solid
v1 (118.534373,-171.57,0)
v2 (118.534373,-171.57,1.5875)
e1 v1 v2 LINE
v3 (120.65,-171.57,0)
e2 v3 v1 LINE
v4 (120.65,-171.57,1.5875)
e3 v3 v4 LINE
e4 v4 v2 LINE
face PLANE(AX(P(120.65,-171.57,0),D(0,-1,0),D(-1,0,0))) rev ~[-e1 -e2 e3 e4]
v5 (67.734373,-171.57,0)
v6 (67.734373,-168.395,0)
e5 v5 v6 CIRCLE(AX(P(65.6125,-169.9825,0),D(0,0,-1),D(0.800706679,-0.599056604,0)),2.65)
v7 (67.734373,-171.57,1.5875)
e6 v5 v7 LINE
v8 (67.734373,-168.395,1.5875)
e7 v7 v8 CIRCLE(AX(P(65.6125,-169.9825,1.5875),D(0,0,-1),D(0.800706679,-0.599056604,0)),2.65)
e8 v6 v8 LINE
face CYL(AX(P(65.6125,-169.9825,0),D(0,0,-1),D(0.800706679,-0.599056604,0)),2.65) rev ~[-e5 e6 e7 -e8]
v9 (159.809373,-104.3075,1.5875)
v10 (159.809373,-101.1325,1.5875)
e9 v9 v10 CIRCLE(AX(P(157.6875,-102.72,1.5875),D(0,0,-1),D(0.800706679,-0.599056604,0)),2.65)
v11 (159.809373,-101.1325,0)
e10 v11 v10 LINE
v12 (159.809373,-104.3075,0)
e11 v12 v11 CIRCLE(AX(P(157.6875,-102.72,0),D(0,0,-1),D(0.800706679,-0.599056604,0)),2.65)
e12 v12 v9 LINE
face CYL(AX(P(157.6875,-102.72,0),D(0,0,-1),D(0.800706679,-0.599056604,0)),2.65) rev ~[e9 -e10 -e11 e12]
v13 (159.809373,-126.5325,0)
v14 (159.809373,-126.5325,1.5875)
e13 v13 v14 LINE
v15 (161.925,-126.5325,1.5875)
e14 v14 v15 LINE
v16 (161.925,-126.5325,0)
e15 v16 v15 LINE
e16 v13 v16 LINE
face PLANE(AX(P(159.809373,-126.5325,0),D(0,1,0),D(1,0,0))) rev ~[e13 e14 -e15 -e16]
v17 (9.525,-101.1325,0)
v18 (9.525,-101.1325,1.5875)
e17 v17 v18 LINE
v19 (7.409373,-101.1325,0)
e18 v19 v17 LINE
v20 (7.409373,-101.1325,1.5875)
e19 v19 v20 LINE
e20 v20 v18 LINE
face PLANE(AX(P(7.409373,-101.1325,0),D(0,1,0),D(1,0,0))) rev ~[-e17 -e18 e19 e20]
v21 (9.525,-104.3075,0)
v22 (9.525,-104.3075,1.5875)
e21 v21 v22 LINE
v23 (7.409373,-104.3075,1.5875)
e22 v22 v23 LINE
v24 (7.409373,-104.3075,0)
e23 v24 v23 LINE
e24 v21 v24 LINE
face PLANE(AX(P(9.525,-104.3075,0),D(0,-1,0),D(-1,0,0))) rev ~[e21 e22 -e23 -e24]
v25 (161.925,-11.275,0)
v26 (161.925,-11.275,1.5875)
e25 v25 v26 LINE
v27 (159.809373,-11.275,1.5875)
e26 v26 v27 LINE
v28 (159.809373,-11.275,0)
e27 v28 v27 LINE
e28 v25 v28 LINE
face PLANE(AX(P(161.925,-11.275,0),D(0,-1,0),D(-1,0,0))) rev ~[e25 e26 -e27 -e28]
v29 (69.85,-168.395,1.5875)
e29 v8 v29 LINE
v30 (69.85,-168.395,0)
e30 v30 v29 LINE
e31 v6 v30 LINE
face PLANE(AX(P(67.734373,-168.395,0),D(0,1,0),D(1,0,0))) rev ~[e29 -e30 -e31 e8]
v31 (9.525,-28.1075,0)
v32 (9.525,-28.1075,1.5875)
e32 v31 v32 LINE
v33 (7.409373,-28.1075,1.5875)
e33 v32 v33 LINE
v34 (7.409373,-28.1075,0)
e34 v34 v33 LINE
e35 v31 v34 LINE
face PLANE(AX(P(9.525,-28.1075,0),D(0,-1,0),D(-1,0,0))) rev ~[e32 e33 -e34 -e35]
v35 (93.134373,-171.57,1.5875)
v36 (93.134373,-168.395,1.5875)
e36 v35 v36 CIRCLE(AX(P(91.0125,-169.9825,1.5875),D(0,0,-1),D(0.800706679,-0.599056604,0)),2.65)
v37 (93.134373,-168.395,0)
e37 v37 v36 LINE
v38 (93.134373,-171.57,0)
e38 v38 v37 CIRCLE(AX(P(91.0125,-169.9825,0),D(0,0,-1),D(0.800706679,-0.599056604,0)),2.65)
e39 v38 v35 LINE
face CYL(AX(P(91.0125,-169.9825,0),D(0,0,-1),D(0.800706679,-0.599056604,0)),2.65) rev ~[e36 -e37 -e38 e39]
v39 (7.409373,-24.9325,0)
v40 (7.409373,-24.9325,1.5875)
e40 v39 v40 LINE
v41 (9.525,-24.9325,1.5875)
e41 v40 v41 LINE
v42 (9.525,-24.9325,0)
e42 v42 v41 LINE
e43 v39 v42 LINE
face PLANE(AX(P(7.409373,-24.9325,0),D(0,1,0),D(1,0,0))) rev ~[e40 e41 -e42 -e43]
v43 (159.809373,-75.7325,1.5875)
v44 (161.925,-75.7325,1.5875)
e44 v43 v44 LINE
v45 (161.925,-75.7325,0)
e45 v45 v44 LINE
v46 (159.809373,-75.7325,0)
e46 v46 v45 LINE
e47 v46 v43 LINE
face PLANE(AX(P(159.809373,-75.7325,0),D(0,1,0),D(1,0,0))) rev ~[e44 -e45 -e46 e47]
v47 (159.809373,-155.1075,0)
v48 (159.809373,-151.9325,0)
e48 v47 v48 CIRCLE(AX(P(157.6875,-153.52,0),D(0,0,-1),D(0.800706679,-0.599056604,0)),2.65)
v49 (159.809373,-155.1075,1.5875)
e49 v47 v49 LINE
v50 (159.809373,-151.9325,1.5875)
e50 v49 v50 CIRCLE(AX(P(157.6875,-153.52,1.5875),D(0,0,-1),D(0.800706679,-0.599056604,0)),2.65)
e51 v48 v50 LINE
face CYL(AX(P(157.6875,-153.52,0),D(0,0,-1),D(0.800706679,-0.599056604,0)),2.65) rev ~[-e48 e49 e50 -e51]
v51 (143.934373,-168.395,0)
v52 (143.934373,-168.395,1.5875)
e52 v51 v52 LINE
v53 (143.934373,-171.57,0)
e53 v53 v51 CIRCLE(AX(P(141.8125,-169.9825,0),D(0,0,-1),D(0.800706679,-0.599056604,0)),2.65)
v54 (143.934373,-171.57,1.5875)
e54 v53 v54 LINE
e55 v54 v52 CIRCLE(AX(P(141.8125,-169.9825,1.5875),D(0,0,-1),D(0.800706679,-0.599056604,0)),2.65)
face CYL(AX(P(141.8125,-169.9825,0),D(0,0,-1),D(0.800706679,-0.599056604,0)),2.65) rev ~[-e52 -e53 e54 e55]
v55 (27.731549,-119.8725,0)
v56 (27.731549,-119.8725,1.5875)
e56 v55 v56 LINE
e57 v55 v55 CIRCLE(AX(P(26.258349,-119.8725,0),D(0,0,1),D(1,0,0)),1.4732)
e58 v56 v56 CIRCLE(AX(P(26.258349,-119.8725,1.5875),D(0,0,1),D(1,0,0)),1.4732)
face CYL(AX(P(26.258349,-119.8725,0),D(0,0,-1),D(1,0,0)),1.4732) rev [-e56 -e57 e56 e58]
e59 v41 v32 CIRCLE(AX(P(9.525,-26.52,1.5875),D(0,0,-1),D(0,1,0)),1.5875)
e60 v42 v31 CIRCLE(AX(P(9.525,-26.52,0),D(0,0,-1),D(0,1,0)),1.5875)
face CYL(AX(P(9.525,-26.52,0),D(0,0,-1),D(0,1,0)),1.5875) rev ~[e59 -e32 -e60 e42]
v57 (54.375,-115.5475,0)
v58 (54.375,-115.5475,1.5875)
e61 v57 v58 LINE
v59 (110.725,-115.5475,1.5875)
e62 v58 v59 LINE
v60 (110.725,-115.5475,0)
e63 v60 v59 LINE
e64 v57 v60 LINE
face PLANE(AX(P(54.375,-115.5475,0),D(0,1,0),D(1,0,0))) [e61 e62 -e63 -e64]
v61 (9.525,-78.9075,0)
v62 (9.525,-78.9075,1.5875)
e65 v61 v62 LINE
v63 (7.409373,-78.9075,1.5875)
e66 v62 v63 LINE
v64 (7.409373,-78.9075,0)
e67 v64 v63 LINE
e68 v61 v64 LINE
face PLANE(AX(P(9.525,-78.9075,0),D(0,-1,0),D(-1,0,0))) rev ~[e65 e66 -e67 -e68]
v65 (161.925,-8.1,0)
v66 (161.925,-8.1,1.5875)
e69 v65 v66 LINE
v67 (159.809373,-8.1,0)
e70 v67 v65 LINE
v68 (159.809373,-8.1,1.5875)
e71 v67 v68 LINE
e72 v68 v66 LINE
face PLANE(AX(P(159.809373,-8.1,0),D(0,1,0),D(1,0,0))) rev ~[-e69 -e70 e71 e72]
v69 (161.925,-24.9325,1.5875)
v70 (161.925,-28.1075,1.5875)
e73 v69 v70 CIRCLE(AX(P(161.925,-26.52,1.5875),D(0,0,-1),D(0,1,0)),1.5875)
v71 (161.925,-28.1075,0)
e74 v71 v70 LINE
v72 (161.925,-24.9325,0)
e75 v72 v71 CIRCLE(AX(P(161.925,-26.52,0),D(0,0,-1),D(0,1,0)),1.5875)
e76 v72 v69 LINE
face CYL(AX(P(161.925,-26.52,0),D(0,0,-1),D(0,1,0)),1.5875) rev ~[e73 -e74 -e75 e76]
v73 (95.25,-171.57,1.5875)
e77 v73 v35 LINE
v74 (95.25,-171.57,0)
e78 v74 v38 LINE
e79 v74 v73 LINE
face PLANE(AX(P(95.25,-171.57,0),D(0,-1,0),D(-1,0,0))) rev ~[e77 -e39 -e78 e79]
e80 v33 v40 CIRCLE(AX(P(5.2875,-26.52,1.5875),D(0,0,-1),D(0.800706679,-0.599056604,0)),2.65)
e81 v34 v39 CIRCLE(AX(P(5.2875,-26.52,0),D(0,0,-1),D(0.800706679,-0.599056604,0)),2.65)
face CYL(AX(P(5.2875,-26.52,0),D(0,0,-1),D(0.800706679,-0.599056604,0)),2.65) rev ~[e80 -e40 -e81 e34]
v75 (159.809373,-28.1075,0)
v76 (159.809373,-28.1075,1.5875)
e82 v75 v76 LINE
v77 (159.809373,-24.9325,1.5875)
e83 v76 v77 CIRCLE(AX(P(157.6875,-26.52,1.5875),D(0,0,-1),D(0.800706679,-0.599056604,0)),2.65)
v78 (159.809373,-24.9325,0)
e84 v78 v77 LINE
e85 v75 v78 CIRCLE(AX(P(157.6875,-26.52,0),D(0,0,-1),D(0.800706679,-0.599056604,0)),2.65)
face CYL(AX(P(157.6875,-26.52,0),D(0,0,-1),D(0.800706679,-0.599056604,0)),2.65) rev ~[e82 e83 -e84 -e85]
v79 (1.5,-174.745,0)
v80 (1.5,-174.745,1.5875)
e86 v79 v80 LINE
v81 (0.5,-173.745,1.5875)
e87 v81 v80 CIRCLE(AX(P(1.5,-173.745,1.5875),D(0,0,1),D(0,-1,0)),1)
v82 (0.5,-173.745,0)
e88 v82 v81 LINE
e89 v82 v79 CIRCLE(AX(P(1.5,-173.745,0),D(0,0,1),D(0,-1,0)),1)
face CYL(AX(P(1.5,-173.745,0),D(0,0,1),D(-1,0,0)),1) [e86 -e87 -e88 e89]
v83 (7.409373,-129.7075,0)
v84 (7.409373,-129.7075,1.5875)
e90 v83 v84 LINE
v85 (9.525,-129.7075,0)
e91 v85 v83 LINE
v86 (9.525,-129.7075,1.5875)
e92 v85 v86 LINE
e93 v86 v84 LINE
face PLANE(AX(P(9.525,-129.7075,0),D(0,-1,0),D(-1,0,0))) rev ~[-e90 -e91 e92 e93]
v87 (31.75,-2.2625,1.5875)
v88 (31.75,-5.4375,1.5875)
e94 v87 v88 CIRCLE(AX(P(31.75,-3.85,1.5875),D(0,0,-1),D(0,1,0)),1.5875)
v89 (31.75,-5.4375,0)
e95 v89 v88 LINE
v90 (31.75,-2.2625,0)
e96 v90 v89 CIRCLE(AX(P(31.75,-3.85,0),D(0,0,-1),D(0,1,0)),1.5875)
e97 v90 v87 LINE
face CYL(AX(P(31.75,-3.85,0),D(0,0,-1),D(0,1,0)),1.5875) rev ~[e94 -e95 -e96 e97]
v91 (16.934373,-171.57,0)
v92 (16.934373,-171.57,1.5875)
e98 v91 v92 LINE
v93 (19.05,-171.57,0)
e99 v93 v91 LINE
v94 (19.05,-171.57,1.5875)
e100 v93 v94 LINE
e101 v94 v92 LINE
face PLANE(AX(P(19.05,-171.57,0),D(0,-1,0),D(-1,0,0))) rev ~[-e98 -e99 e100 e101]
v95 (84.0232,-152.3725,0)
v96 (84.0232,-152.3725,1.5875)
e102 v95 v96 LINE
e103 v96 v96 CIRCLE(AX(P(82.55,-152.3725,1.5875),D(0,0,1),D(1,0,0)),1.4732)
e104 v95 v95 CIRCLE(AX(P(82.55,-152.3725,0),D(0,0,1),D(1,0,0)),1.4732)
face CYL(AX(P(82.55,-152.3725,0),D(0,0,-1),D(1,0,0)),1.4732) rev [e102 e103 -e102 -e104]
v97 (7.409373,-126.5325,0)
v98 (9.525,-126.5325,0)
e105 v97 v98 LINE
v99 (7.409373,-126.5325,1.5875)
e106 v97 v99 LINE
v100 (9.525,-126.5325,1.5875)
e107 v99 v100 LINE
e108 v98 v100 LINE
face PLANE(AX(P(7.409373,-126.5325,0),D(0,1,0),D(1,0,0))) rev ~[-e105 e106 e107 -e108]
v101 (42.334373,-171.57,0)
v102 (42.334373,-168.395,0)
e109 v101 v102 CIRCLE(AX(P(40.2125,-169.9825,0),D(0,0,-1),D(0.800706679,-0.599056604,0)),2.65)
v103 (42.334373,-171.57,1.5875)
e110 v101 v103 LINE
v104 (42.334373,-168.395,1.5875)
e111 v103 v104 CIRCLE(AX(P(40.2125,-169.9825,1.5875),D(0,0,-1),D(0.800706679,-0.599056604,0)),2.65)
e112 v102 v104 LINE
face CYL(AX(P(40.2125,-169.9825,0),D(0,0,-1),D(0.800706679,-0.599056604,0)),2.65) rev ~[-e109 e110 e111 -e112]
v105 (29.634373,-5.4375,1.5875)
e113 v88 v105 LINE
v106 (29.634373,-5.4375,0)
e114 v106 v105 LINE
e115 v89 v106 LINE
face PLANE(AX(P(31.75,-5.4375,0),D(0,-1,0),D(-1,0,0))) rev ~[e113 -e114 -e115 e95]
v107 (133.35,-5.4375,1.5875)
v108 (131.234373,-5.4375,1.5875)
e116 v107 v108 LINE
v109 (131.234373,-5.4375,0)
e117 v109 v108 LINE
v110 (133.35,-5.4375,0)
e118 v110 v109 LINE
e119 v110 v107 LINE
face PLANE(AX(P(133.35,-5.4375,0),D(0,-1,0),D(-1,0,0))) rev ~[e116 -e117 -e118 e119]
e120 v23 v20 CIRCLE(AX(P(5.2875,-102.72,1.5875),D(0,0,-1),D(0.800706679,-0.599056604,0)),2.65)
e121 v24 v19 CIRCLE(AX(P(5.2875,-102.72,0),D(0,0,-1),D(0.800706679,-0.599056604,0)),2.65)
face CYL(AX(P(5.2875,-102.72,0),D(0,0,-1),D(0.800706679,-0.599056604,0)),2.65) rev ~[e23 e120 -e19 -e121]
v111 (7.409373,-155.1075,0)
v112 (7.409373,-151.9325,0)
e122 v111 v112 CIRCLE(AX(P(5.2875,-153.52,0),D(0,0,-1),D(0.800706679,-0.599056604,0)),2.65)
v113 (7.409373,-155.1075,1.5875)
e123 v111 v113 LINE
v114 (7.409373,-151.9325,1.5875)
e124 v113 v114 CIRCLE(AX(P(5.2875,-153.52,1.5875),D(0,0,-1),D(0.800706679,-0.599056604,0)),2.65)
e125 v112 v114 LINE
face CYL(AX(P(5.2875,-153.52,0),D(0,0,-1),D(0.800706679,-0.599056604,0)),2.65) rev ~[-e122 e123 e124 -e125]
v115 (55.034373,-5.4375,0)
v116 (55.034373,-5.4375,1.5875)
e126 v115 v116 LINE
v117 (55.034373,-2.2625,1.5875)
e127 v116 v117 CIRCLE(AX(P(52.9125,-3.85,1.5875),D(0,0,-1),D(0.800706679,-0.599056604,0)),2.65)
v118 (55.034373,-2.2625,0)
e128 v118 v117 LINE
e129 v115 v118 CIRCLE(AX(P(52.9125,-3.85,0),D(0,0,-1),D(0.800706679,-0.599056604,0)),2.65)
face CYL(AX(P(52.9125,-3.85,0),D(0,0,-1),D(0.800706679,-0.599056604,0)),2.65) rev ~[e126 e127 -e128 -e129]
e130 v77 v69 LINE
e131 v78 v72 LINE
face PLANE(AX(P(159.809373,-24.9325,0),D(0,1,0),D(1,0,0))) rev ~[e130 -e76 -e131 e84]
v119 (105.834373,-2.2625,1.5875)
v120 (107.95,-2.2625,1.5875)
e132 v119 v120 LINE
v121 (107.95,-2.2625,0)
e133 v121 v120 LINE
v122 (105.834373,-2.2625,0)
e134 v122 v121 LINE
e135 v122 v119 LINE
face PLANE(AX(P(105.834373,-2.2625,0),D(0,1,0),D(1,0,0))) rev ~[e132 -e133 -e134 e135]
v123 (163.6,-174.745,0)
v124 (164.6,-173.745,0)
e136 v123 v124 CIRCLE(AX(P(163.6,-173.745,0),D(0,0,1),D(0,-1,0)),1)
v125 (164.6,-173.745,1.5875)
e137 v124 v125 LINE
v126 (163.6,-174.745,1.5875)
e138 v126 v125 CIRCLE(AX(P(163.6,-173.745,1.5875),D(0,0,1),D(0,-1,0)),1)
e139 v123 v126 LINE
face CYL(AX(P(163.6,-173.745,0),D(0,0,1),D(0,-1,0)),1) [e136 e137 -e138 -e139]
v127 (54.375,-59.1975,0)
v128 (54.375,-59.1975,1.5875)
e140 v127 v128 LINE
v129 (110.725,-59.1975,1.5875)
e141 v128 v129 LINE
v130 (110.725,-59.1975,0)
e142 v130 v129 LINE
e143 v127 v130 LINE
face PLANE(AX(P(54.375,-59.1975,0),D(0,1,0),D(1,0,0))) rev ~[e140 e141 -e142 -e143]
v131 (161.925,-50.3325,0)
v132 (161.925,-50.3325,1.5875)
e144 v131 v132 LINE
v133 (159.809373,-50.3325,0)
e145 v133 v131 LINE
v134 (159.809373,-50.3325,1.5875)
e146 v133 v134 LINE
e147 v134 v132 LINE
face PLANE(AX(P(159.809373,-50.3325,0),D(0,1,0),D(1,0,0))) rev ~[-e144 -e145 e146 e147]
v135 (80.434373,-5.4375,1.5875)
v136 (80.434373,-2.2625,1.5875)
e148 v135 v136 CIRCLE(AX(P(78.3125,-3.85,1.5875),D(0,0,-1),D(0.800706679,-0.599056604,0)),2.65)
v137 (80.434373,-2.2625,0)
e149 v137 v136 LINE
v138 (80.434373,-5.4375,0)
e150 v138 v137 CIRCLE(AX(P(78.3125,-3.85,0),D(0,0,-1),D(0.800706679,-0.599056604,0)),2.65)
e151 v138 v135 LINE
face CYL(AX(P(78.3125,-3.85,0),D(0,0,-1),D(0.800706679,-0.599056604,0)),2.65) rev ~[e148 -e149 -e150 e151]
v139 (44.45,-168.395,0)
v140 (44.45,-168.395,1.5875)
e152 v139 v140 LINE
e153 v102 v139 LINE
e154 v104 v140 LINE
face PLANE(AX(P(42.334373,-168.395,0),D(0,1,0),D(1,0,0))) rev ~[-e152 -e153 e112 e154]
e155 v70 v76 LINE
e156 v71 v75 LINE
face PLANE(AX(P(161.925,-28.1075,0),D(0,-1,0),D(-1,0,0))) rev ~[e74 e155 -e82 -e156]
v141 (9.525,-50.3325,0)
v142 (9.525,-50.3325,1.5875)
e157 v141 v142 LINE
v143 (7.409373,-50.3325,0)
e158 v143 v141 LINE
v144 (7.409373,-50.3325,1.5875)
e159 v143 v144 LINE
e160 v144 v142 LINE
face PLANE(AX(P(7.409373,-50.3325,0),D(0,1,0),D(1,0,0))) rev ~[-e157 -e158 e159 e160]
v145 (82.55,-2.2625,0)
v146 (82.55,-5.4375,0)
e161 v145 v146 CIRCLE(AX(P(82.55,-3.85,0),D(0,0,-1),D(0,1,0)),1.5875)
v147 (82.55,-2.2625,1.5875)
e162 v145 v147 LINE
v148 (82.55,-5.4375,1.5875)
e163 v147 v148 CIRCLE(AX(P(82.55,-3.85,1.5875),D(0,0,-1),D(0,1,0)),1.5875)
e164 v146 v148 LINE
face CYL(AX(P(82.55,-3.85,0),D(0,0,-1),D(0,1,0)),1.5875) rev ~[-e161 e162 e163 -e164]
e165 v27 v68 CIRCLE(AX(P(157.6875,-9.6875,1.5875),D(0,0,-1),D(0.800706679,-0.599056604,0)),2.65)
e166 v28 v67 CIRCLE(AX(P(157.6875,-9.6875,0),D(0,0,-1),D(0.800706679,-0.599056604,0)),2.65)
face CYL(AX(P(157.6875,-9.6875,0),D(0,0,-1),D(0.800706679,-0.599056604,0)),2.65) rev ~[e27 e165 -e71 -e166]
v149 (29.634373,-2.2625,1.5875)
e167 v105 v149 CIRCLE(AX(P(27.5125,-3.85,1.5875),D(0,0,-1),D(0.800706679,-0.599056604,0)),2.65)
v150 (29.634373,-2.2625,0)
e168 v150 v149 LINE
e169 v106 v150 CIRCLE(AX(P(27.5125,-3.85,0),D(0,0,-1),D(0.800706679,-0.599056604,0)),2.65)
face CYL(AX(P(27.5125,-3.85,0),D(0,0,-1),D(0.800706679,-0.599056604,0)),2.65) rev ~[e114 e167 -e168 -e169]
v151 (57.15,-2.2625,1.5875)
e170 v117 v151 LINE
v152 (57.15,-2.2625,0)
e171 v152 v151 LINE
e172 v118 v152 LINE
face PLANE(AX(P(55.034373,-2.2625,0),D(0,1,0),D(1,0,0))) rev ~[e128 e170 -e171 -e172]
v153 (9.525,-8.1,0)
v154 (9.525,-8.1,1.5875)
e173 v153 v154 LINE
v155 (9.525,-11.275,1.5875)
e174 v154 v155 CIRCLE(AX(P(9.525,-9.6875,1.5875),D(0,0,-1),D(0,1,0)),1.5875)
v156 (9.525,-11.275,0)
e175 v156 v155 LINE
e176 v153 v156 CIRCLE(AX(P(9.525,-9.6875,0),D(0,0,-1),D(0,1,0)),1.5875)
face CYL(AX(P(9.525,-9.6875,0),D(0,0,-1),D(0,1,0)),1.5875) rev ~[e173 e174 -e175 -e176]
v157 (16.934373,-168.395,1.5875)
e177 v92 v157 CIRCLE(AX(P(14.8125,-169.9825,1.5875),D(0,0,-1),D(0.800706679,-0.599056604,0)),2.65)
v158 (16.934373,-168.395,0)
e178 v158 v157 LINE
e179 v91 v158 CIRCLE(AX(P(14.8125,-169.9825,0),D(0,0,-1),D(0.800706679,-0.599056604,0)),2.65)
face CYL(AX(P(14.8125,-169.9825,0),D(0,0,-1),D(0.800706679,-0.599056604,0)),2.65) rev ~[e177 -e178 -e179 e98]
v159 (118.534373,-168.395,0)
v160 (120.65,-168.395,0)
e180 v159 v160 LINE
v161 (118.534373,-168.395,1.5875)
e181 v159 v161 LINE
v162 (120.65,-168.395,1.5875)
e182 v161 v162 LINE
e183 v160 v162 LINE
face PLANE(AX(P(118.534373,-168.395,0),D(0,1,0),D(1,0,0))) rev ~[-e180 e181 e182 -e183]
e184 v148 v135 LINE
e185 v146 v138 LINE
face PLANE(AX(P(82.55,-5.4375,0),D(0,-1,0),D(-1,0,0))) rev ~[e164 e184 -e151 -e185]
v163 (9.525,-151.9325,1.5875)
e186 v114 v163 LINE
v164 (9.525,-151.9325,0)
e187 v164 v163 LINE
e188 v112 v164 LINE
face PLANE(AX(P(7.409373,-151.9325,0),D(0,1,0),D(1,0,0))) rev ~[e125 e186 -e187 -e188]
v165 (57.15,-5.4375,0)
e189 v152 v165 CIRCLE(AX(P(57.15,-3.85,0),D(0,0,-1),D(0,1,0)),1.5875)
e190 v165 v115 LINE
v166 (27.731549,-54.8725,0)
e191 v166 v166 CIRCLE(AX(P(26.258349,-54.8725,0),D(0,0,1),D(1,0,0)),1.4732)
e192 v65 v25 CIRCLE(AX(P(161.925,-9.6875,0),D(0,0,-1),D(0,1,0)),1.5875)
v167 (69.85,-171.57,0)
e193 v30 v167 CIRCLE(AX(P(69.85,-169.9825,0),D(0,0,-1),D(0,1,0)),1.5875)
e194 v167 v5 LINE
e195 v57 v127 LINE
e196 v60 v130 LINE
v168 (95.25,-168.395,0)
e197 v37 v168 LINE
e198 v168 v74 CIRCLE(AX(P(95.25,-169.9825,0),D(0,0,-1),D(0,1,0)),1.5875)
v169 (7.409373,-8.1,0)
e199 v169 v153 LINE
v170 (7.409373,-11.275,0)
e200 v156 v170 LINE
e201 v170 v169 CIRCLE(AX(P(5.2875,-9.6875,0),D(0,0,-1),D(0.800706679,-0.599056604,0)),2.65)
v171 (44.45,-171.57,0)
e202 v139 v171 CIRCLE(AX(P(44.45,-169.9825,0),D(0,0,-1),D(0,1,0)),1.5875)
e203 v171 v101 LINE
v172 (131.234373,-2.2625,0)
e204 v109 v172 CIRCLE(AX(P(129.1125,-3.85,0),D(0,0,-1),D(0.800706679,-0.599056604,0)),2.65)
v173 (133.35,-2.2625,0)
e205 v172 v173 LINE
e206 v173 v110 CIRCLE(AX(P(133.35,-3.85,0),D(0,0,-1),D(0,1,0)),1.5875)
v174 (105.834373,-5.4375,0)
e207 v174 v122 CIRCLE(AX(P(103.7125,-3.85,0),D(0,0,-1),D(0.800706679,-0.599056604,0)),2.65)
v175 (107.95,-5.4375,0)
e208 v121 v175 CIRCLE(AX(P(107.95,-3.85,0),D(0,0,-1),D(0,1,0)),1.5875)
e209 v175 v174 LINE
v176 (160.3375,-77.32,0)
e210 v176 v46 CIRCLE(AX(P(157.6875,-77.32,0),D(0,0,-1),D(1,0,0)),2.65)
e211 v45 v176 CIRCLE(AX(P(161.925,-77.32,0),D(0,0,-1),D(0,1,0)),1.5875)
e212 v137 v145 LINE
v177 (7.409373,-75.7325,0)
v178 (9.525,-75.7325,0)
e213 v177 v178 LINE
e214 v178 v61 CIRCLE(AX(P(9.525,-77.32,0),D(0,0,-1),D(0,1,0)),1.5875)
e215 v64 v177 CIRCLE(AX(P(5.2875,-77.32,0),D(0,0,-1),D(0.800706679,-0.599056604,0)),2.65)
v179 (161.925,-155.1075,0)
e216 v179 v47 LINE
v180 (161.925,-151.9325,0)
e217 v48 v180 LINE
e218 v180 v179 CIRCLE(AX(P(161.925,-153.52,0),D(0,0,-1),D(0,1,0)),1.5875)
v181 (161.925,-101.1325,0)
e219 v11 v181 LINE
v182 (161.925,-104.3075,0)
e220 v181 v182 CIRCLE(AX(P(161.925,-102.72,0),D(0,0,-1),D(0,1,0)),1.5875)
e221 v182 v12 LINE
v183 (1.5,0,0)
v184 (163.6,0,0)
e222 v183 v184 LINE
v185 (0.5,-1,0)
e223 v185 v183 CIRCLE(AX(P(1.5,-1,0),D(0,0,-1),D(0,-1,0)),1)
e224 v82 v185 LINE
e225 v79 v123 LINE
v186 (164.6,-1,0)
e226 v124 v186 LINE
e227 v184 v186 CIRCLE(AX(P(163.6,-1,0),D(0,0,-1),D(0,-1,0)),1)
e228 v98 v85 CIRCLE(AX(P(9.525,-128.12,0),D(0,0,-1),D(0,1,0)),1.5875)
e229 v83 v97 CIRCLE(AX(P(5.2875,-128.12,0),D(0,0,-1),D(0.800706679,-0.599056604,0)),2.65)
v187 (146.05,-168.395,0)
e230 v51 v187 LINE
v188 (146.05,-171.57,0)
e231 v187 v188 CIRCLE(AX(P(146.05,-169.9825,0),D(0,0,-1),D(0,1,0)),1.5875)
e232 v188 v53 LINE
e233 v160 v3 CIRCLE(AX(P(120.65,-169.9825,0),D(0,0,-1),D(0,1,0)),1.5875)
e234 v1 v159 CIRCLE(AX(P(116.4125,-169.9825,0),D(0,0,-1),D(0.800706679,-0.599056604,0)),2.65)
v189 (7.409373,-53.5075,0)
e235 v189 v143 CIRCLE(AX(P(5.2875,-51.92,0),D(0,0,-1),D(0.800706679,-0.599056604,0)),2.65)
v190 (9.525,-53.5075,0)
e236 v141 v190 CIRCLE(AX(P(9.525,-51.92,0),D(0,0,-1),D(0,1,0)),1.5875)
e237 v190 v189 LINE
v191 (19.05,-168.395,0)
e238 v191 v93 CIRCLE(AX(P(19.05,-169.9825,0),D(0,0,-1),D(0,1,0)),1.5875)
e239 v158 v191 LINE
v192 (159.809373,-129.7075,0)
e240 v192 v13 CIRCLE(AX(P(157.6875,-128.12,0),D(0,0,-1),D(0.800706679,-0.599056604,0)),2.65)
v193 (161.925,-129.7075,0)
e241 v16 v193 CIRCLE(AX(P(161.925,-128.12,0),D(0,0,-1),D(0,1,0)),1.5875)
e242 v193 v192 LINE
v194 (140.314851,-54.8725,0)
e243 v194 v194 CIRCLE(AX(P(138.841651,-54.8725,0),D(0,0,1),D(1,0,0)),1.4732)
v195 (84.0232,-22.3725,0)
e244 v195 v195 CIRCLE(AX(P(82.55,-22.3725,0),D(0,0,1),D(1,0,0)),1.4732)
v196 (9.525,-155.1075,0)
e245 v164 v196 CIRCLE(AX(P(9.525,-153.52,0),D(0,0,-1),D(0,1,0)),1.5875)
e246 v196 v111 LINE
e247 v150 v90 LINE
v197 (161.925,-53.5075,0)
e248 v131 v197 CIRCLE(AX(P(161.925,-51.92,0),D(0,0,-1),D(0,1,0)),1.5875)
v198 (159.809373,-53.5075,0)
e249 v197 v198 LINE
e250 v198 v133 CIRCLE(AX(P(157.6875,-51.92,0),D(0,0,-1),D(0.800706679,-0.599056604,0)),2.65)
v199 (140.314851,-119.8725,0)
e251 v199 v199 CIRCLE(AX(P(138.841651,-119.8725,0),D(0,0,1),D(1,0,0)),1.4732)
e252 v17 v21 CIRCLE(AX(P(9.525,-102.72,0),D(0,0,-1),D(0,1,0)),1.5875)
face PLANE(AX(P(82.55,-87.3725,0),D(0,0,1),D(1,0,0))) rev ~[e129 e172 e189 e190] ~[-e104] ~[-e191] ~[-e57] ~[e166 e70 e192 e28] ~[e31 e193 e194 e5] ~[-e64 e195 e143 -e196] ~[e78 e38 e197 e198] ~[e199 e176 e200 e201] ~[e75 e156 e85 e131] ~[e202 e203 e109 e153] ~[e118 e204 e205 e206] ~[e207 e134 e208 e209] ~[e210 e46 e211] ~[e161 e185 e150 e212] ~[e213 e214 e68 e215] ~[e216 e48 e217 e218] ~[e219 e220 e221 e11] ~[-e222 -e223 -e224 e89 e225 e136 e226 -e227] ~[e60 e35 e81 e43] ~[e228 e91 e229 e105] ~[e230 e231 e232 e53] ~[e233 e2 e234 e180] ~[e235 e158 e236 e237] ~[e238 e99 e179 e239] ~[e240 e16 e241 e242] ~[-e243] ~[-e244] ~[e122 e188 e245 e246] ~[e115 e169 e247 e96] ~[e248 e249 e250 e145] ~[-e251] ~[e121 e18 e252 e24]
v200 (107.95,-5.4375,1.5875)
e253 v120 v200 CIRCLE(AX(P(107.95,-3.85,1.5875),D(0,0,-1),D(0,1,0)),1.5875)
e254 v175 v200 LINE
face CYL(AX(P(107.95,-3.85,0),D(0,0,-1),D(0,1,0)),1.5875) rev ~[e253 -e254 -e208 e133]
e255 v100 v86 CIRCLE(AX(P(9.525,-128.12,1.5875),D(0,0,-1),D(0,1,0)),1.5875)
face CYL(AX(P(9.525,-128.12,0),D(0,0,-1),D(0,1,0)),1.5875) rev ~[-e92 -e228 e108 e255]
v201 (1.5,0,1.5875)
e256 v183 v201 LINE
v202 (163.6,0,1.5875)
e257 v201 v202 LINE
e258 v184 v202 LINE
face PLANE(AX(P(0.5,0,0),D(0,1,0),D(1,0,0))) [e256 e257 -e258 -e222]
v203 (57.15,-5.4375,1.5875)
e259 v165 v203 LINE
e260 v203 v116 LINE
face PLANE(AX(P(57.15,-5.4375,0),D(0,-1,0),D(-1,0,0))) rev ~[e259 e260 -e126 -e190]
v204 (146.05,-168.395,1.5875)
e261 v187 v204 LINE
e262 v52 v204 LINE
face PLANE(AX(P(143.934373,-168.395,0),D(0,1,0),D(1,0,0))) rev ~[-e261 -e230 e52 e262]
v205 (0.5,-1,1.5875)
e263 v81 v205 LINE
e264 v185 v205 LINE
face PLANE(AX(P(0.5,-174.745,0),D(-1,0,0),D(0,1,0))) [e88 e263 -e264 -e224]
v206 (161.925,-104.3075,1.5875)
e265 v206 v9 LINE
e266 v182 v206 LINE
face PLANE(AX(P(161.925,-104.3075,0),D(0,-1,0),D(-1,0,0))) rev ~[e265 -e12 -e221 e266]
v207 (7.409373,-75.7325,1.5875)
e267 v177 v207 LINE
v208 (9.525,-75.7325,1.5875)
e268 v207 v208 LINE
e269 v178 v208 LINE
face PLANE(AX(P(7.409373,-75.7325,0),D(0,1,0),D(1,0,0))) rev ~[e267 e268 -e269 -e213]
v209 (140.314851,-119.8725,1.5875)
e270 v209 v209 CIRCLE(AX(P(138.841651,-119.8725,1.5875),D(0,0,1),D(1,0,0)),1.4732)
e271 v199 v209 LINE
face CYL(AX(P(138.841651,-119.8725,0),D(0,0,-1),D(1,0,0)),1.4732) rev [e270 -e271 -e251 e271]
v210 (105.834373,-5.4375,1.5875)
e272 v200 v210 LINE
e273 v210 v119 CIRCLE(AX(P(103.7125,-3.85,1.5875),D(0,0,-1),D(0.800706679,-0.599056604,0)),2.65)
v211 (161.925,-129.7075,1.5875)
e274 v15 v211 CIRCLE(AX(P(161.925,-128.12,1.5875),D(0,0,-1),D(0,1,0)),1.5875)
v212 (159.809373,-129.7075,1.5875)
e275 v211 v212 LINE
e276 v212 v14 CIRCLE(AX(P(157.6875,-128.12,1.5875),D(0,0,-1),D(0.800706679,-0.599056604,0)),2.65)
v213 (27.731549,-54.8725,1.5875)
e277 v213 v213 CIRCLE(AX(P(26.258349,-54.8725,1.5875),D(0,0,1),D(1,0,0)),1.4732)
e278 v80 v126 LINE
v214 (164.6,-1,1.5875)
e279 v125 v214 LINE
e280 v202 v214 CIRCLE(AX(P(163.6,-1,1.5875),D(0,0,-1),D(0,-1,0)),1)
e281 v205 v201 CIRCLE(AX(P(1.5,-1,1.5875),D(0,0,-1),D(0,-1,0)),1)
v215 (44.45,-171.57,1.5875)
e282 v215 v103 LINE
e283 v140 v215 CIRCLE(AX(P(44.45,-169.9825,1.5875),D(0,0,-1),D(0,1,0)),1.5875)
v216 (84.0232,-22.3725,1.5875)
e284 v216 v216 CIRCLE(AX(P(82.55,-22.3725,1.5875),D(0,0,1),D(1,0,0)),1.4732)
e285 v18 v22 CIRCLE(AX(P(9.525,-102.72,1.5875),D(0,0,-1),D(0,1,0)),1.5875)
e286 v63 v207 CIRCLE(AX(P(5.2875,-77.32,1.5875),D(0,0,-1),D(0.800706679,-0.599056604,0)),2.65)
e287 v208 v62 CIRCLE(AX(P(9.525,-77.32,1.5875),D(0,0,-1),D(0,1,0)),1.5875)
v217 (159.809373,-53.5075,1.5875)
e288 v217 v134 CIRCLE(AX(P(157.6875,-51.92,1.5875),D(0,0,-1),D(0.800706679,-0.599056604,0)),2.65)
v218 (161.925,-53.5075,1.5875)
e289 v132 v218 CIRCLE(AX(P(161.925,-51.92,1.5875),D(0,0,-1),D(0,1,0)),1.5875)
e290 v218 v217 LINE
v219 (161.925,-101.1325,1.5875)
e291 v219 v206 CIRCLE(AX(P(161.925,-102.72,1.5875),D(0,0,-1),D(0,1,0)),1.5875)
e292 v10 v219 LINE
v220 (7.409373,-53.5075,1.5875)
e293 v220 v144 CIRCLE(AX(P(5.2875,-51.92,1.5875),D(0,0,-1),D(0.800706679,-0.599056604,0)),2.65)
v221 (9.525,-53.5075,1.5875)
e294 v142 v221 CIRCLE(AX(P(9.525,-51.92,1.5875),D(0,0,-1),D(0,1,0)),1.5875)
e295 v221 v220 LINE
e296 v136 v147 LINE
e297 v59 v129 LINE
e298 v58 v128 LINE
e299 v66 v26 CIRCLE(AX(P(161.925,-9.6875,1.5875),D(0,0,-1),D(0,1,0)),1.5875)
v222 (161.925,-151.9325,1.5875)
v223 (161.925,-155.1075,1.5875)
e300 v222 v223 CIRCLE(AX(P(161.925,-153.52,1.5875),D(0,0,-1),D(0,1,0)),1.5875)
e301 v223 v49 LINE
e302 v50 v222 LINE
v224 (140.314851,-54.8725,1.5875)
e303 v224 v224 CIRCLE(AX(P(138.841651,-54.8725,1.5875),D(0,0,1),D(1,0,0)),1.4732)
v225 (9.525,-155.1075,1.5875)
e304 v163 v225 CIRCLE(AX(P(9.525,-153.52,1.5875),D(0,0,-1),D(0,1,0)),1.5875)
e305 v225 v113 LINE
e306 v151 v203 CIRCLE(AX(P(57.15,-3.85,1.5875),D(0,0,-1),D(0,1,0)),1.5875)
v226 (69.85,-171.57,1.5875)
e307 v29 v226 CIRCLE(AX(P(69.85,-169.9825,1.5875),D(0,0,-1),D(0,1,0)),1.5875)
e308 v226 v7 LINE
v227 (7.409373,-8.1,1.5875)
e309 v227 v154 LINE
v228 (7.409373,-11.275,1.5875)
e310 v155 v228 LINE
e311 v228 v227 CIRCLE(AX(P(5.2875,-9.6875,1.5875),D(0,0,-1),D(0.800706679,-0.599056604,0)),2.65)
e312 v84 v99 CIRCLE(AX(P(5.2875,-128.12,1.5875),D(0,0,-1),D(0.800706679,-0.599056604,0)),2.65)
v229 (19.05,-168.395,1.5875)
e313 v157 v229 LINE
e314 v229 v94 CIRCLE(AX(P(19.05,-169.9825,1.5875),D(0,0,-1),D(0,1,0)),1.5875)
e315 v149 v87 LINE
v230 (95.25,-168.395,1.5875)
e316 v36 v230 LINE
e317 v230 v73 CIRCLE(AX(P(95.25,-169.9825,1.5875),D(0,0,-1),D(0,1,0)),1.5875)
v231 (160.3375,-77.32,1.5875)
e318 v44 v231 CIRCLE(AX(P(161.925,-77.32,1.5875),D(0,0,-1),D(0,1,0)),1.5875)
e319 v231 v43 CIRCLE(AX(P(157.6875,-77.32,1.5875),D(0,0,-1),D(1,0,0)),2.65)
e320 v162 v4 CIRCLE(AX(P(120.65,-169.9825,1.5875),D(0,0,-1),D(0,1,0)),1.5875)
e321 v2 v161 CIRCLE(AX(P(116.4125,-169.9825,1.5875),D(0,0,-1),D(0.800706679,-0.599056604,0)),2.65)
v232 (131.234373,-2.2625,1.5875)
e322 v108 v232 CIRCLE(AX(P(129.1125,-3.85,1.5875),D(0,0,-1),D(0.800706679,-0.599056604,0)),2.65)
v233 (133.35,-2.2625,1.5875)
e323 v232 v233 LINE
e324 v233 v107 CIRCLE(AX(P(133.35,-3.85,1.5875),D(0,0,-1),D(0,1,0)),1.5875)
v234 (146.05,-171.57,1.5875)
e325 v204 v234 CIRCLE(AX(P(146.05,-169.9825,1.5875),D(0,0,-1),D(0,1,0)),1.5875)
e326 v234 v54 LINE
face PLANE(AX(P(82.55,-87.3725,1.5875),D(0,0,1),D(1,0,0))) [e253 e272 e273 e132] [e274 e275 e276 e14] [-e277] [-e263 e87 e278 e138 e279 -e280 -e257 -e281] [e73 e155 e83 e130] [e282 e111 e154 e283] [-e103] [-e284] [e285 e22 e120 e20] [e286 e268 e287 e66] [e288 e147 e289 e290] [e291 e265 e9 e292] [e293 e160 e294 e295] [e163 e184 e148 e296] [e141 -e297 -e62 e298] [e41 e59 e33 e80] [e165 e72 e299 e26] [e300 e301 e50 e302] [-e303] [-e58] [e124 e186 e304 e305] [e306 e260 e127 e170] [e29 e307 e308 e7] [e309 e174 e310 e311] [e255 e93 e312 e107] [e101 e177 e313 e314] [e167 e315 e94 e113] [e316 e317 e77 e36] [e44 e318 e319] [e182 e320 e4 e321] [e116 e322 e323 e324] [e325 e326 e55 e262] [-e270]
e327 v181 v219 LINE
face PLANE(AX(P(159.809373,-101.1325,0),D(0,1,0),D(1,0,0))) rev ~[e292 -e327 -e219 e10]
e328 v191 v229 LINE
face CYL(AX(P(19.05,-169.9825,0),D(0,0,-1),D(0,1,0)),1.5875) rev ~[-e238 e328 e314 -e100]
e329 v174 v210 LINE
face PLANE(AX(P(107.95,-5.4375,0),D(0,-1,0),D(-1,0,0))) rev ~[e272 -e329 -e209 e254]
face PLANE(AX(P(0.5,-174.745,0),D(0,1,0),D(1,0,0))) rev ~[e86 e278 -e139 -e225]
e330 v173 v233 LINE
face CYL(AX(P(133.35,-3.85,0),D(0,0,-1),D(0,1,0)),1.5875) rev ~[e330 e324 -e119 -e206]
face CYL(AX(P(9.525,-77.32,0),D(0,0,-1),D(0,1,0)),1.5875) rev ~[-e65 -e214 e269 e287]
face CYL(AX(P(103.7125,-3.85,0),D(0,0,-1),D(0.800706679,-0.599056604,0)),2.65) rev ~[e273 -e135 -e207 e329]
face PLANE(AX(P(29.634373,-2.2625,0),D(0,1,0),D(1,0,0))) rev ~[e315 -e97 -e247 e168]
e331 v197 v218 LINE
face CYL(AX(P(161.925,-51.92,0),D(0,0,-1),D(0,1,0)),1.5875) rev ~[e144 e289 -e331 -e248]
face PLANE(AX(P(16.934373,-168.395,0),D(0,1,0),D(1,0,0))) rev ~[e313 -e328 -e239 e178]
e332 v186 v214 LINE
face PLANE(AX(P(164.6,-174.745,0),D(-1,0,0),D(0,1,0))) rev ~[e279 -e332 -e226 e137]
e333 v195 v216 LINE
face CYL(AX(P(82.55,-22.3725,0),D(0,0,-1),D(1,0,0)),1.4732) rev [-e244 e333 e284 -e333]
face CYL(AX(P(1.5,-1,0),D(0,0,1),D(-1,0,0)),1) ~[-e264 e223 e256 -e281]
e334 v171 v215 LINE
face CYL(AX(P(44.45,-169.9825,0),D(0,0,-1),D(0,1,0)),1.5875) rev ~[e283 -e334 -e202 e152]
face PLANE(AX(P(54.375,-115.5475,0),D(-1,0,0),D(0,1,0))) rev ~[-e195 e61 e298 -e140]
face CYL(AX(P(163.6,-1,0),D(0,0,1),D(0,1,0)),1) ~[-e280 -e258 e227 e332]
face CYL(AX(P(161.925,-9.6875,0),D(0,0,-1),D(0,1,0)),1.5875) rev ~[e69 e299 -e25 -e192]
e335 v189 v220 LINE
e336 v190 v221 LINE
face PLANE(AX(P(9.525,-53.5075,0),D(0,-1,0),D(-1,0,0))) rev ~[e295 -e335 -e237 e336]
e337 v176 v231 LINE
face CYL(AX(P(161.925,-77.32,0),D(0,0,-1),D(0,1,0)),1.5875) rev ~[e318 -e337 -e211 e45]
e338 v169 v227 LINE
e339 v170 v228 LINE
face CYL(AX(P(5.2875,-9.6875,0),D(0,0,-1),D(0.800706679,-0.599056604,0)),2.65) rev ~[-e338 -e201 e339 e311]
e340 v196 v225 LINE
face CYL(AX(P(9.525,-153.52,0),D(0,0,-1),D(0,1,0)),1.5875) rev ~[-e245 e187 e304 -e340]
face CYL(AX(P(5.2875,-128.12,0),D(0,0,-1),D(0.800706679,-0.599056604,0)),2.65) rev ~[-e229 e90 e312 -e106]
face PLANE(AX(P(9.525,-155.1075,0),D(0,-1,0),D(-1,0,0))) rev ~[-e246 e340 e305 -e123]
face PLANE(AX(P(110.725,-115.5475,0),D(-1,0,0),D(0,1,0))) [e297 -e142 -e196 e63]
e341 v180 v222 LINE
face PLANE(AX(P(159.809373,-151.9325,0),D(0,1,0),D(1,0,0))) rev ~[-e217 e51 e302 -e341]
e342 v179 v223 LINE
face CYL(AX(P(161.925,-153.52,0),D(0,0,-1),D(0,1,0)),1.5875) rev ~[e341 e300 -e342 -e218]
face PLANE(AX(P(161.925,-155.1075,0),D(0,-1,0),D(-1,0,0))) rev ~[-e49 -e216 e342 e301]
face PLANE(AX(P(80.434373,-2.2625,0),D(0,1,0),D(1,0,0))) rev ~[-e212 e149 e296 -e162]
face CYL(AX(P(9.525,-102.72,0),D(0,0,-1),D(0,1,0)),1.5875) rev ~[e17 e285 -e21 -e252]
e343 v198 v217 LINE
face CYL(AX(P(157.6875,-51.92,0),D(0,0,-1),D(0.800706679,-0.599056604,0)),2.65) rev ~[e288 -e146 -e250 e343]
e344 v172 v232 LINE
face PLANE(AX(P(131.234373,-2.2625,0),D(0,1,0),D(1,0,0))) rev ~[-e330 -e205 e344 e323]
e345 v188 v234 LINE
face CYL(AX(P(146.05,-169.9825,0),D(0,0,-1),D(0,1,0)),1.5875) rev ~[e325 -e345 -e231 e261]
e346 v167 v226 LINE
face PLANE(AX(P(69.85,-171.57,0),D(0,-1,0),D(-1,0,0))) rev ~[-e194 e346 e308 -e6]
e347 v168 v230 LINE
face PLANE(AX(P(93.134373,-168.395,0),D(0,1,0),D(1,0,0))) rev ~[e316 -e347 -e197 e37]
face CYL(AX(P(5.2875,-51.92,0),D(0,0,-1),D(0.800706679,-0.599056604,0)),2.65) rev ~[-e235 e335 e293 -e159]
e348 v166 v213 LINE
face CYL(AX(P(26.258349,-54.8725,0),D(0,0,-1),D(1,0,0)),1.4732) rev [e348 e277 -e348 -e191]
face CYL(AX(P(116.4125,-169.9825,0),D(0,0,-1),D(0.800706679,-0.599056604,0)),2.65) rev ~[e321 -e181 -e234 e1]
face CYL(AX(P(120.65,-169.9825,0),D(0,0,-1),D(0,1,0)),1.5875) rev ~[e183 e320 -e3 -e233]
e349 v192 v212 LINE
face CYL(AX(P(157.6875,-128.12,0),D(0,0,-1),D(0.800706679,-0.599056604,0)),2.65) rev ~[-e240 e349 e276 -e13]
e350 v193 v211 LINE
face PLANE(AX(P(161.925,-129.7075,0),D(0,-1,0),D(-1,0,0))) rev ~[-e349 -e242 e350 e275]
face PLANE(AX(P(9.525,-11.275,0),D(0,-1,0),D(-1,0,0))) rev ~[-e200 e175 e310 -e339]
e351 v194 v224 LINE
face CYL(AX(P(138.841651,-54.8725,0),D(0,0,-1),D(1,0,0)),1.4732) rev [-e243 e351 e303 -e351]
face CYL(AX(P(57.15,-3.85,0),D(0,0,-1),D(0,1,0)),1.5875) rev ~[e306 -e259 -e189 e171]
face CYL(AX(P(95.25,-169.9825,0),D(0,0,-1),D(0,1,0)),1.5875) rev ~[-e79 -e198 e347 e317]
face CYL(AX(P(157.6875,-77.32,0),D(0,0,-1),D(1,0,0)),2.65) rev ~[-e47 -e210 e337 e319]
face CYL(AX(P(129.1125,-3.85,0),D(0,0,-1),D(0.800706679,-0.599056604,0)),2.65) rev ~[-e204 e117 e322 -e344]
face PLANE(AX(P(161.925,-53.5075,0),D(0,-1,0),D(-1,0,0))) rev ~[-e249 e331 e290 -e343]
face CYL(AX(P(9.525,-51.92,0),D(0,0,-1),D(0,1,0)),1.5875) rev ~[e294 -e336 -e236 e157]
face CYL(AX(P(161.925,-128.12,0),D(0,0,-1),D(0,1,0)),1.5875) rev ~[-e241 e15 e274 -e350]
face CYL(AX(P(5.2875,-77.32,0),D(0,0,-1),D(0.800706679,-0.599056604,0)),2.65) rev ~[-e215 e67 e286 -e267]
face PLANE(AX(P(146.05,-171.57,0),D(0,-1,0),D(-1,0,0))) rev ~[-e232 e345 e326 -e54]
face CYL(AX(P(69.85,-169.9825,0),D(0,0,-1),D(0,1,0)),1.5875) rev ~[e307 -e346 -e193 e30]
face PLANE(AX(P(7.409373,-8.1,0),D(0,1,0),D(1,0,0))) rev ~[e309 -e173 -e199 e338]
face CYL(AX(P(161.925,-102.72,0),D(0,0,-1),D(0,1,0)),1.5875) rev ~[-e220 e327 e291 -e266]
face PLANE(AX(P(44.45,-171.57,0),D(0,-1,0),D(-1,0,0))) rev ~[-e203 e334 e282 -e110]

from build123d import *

# Parameters (mm, degrees)
SKETCH1_W           = 164.1
SKETCH1_H           = 174.745
SKETCH1_R           = 1.4732
SKETCH1_W_2         = 56.35
SKETCH1_H_2         = 56.35
BOSS_EXTRUDE1_DEPTH = 1.5875
FILLET1_R           = 1


with BuildPart() as part:
    # Sketch1 → Boss-Extrude1 (new body)
    with BuildSketch(Plane.XY):
        with Locations((82.55, -87.3725)):
            Rectangle(SKETCH1_W, SKETCH1_H)
        with Locations((82.55, -152.3725)):
            Circle(SKETCH1_R, mode=Mode.SUBTRACT)
        with Locations((82.55, -87.3725)):
            Rectangle(SKETCH1_W_2, SKETCH1_H_2, mode=Mode.SUBTRACT)
        with Locations((82.55, -22.3725)):
            Circle(SKETCH1_R, mode=Mode.SUBTRACT)
        with BuildLine():
            Line((82.55, -5.4375), (80.434372699, -5.4375))
            ThreePointArc((80.434372699, -5.4375), (75.6625, -3.85), (80.434372699, -2.2625))
            Line((80.434372699, -2.2625), (82.55, -2.2625))
            ThreePointArc((82.55, -2.2625), (84.1375, -3.85), (82.55, -5.4375))
        make_face(mode=Mode.SUBTRACT)
        with BuildLine():
            Line((16.934372699, -168.395), (19.05, -168.395))
            ThreePointArc((19.05, -168.395), (20.6375, -169.9825), (19.05, -171.57))
            Line((19.05, -171.57), (16.934372699, -171.57))
            ThreePointArc((16.934372699, -171.57), (12.1625, -169.9825), (16.934372699, -168.395))
        make_face(mode=Mode.SUBTRACT)
        with BuildLine():
            Line((7.409372699, -151.9325), (9.525, -151.9325))
            ThreePointArc((9.525, -151.9325), (11.1125, -153.52), (9.525, -155.1075))
            Line((9.525, -155.1075), (7.409372699, -155.1075))
            ThreePointArc((7.409372699, -155.1075), (2.6375, -153.52), (7.409372699, -151.9325))
        make_face(mode=Mode.SUBTRACT)
        with BuildLine():
            Line((42.334372699, -168.395), (44.45, -168.395))
            ThreePointArc((44.45, -168.395), (46.0375, -169.9825), (44.45, -171.57))
            Line((44.45, -171.57), (42.334372699, -171.57))
            ThreePointArc((42.334372699, -171.57), (37.5625, -169.9825), (42.334372699, -168.395))
        make_face(mode=Mode.SUBTRACT)
        with BuildLine():
            Line((67.734372699, -168.395), (69.85, -168.395))
            ThreePointArc((69.85, -168.395), (71.4375, -169.9825), (69.85, -171.57))
            Line((69.85, -171.57), (67.734372699, -171.57))
            ThreePointArc((67.734372699, -171.57), (62.9625, -169.9825), (67.734372699, -168.395))
        make_face(mode=Mode.SUBTRACT)
        with BuildLine():
            Line((7.409372699, -126.5325), (9.525, -126.5325))
            ThreePointArc((9.525, -126.5325), (11.1125, -128.12), (9.525, -129.7075))
            Line((9.525, -129.7075), (7.409372699, -129.7075))
            ThreePointArc((7.409372699, -129.7075), (2.6375, -128.12), (7.409372699, -126.5325))
        make_face(mode=Mode.SUBTRACT)
        with Locations((26.258348754, -119.8725)):
            Circle(SKETCH1_R, mode=Mode.SUBTRACT)
        with BuildLine():
            Line((7.409372699, -101.1325), (9.525, -101.1325))
            ThreePointArc((9.525, -101.1325), (11.1125, -102.72), (9.525, -104.3075))
            Line((9.525, -104.3075), (7.409372699, -104.3075))
            ThreePointArc((7.409372699, -104.3075), (2.6375, -102.72), (7.409372699, -101.1325))
        make_face(mode=Mode.SUBTRACT)
        with BuildLine():
            Line((7.409372699, -75.7325), (9.525, -75.7325))
            ThreePointArc((9.525, -75.7325), (11.1125, -77.32), (9.525, -78.9075))
            Line((9.525, -78.9075), (7.409372699, -78.9075))
            ThreePointArc((7.409372699, -78.9075), (2.6375, -77.32), (7.409372699, -75.7325))
        make_face(mode=Mode.SUBTRACT)
        with BuildLine():
            Line((7.409372699, -50.3325), (9.525, -50.3325))
            ThreePointArc((9.525, -50.3325), (11.1125, -51.92), (9.525, -53.5075))
            Line((9.525, -53.5075), (7.409372699, -53.5075))
            ThreePointArc((7.409372699, -53.5075), (2.6375, -51.92), (7.409372699, -50.3325))
        make_face(mode=Mode.SUBTRACT)
        with Locations((26.258348754, -54.8725)):
            Circle(SKETCH1_R, mode=Mode.SUBTRACT)
        with BuildLine():
            Line((7.409372699, -24.9325), (9.525, -24.9325))
            ThreePointArc((9.525, -24.9325), (11.1125, -26.52), (9.525, -28.1075))
            Line((9.525, -28.1075), (7.409372699, -28.1075))
            ThreePointArc((7.409372699, -28.1075), (2.6375, -26.52), (7.409372699, -24.9325))
        make_face(mode=Mode.SUBTRACT)
        with BuildLine():
            Line((7.409372699, -8.1), (9.525, -8.1))
            ThreePointArc((9.525, -8.1), (11.1125, -9.6875), (9.525, -11.275))
            Line((9.525, -11.275), (7.409372699, -11.275))
            ThreePointArc((7.409372699, -11.275), (2.6375, -9.6875), (7.409372699, -8.1))
        make_face(mode=Mode.SUBTRACT)
        with BuildLine():
            Line((29.634372699, -2.2625), (31.75, -2.2625))
            ThreePointArc((31.75, -2.2625), (33.3375, -3.85), (31.75, -5.4375))
            Line((31.75, -5.4375), (29.634372699, -5.4375))
            ThreePointArc((29.634372699, -5.4375), (24.8625, -3.85), (29.634372699, -2.2625))
        make_face(mode=Mode.SUBTRACT)
        with BuildLine():
            Line((55.034372699, -2.2625), (57.15, -2.2625))
            ThreePointArc((57.15, -2.2625), (58.7375, -3.85), (57.15, -5.4375))
            Line((57.15, -5.4375), (55.034372699, -5.4375))
            ThreePointArc((55.034372699, -5.4375), (50.2625, -3.85), (55.034372699, -2.2625))
        make_face(mode=Mode.SUBTRACT)
        with BuildLine():
            ThreePointArc((161.925, -8.1), (163.5125, -9.6875), (161.925, -11.275))
            Line((161.925, -11.275), (159.809372699, -11.275))
            ThreePointArc((159.809372699, -11.275), (155.0375, -9.6875), (159.809372699, -8.1))
            Line((159.809372699, -8.1), (161.925, -8.1))
        make_face(mode=Mode.SUBTRACT)
        with BuildLine():
            Line((93.134372699, -168.395), (95.25, -168.395))
            ThreePointArc((95.25, -168.395), (96.8375, -169.9825), (95.25, -171.57))
            Line((95.25, -171.57), (93.134372699, -171.57))
            ThreePointArc((93.134372699, -171.57), (88.3625, -169.9825), (93.134372699, -168.395))
        make_face(mode=Mode.SUBTRACT)
        with BuildLine():
            Line((118.534372699, -168.395), (120.65, -168.395))
            ThreePointArc((120.65, -168.395), (122.2375, -169.9825), (120.65, -171.57))
            Line((120.65, -171.57), (118.534372699, -171.57))
            ThreePointArc((118.534372699, -171.57), (113.7625, -169.9825), (118.534372699, -168.395))
        make_face(mode=Mode.SUBTRACT)
        with BuildLine():
            Line((143.934372699, -168.395), (146.05, -168.395))
            ThreePointArc((146.05, -168.395), (147.6375, -169.9825), (146.05, -171.57))
            Line((146.05, -171.57), (143.934372699, -171.57))
            ThreePointArc((143.934372699, -171.57), (139.1625, -169.9825), (143.934372699, -168.395))
        make_face(mode=Mode.SUBTRACT)
        with BuildLine():
            Line((159.809372699, -151.9325), (161.925, -151.9325))
            ThreePointArc((161.925, -151.9325), (163.5125, -153.52), (161.925, -155.1075))
            Line((161.925, -155.1075), (159.809372699, -155.1075))
            ThreePointArc((159.809372699, -155.1075), (155.0375, -153.52), (159.809372699, -151.9325))
        make_face(mode=Mode.SUBTRACT)
        with Locations((138.841651246, -119.8725)):
            Circle(SKETCH1_R, mode=Mode.SUBTRACT)
        with BuildLine():
            Line((159.809372699, -126.5325), (161.925, -126.5325))
            ThreePointArc((161.925, -126.5325), (163.5125, -128.12), (161.925, -129.7075))
            Line((161.925, -129.7075), (159.809372699, -129.7075))
            ThreePointArc((159.809372699, -129.7075), (155.0375, -128.12), (159.809372699, -126.5325))
        make_face(mode=Mode.SUBTRACT)
        with BuildLine():
            Line((159.809372699, -101.1325), (161.925, -101.1325))
            ThreePointArc((161.925, -101.1325), (163.5125, -102.72), (161.925, -104.3075))
            Line((161.925, -104.3075), (159.809372699, -104.3075))
            ThreePointArc((159.809372699, -104.3075), (155.0375, -102.72), (159.809372699, -101.1325))
        make_face(mode=Mode.SUBTRACT)
        with BuildLine():
            Line((159.809372699, -75.7325), (161.925, -75.7325))
            ThreePointArc((161.925, -75.7325), (163.047532015, -78.442532015), (160.3375, -77.32))
            ThreePointArc((160.3375, -77.32), (155.172995809, -78.156521771), (159.809372699, -75.7325))
        make_face(mode=Mode.SUBTRACT)
        with Locations((138.841651246, -54.8725)):
            Circle(SKETCH1_R, mode=Mode.SUBTRACT)
        with BuildLine():
            Line((159.809372699, -50.3325), (161.925, -50.3325))
            ThreePointArc((161.925, -50.3325), (163.5125, -51.92), (161.925, -53.5075))
            Line((161.925, -53.5075), (159.809372699, -53.5075))
            ThreePointArc((159.809372699, -53.5075), (155.0375, -51.92), (159.809372699, -50.3325))
        make_face(mode=Mode.SUBTRACT)
        with BuildLine():
            Line((105.834372699, -2.2625), (107.95, -2.2625))
            ThreePointArc((107.95, -2.2625), (109.5375, -3.85), (107.95, -5.4375))
            Line((107.95, -5.4375), (105.834372699, -5.4375))
            ThreePointArc((105.834372699, -5.4375), (101.0625, -3.85), (105.834372699, -2.2625))
        make_face(mode=Mode.SUBTRACT)
        with BuildLine():
            Line((159.809372699, -24.9325), (161.925, -24.9325))
            ThreePointArc((161.925, -24.9325), (163.5125, -26.52), (161.925, -28.1075))
            Line((161.925, -28.1075), (159.809372699, -28.1075))
            ThreePointArc((159.809372699, -28.1075), (155.0375, -26.52), (159.809372699, -24.9325))
        make_face(mode=Mode.SUBTRACT)
        with BuildLine():
            Line((131.234372699, -2.2625), (133.35, -2.2625))
            ThreePointArc((133.35, -2.2625), (134.9375, -3.85), (133.35, -5.4375))
            Line((133.35, -5.4375), (131.234372699, -5.4375))
            ThreePointArc((131.234372699, -5.4375), (126.4625, -3.85), (131.234372699, -2.2625))
        make_face(mode=Mode.SUBTRACT)
    extrude(amount=BOSS_EXTRUDE1_DEPTH)

    # Fillet1
    fillet1_edges = [part.edges().sort_by_distance(p)[0] for p in [
        (0.5, -174.745, 0.79375),
        (0.5, 0, 0.79375),
        (164.6, 0, 0.79375),
        (164.6, -174.745, 0.79375),
    ]]
    fillet(fillet1_edges, radius=FILLET1_R)


solid = part.part
